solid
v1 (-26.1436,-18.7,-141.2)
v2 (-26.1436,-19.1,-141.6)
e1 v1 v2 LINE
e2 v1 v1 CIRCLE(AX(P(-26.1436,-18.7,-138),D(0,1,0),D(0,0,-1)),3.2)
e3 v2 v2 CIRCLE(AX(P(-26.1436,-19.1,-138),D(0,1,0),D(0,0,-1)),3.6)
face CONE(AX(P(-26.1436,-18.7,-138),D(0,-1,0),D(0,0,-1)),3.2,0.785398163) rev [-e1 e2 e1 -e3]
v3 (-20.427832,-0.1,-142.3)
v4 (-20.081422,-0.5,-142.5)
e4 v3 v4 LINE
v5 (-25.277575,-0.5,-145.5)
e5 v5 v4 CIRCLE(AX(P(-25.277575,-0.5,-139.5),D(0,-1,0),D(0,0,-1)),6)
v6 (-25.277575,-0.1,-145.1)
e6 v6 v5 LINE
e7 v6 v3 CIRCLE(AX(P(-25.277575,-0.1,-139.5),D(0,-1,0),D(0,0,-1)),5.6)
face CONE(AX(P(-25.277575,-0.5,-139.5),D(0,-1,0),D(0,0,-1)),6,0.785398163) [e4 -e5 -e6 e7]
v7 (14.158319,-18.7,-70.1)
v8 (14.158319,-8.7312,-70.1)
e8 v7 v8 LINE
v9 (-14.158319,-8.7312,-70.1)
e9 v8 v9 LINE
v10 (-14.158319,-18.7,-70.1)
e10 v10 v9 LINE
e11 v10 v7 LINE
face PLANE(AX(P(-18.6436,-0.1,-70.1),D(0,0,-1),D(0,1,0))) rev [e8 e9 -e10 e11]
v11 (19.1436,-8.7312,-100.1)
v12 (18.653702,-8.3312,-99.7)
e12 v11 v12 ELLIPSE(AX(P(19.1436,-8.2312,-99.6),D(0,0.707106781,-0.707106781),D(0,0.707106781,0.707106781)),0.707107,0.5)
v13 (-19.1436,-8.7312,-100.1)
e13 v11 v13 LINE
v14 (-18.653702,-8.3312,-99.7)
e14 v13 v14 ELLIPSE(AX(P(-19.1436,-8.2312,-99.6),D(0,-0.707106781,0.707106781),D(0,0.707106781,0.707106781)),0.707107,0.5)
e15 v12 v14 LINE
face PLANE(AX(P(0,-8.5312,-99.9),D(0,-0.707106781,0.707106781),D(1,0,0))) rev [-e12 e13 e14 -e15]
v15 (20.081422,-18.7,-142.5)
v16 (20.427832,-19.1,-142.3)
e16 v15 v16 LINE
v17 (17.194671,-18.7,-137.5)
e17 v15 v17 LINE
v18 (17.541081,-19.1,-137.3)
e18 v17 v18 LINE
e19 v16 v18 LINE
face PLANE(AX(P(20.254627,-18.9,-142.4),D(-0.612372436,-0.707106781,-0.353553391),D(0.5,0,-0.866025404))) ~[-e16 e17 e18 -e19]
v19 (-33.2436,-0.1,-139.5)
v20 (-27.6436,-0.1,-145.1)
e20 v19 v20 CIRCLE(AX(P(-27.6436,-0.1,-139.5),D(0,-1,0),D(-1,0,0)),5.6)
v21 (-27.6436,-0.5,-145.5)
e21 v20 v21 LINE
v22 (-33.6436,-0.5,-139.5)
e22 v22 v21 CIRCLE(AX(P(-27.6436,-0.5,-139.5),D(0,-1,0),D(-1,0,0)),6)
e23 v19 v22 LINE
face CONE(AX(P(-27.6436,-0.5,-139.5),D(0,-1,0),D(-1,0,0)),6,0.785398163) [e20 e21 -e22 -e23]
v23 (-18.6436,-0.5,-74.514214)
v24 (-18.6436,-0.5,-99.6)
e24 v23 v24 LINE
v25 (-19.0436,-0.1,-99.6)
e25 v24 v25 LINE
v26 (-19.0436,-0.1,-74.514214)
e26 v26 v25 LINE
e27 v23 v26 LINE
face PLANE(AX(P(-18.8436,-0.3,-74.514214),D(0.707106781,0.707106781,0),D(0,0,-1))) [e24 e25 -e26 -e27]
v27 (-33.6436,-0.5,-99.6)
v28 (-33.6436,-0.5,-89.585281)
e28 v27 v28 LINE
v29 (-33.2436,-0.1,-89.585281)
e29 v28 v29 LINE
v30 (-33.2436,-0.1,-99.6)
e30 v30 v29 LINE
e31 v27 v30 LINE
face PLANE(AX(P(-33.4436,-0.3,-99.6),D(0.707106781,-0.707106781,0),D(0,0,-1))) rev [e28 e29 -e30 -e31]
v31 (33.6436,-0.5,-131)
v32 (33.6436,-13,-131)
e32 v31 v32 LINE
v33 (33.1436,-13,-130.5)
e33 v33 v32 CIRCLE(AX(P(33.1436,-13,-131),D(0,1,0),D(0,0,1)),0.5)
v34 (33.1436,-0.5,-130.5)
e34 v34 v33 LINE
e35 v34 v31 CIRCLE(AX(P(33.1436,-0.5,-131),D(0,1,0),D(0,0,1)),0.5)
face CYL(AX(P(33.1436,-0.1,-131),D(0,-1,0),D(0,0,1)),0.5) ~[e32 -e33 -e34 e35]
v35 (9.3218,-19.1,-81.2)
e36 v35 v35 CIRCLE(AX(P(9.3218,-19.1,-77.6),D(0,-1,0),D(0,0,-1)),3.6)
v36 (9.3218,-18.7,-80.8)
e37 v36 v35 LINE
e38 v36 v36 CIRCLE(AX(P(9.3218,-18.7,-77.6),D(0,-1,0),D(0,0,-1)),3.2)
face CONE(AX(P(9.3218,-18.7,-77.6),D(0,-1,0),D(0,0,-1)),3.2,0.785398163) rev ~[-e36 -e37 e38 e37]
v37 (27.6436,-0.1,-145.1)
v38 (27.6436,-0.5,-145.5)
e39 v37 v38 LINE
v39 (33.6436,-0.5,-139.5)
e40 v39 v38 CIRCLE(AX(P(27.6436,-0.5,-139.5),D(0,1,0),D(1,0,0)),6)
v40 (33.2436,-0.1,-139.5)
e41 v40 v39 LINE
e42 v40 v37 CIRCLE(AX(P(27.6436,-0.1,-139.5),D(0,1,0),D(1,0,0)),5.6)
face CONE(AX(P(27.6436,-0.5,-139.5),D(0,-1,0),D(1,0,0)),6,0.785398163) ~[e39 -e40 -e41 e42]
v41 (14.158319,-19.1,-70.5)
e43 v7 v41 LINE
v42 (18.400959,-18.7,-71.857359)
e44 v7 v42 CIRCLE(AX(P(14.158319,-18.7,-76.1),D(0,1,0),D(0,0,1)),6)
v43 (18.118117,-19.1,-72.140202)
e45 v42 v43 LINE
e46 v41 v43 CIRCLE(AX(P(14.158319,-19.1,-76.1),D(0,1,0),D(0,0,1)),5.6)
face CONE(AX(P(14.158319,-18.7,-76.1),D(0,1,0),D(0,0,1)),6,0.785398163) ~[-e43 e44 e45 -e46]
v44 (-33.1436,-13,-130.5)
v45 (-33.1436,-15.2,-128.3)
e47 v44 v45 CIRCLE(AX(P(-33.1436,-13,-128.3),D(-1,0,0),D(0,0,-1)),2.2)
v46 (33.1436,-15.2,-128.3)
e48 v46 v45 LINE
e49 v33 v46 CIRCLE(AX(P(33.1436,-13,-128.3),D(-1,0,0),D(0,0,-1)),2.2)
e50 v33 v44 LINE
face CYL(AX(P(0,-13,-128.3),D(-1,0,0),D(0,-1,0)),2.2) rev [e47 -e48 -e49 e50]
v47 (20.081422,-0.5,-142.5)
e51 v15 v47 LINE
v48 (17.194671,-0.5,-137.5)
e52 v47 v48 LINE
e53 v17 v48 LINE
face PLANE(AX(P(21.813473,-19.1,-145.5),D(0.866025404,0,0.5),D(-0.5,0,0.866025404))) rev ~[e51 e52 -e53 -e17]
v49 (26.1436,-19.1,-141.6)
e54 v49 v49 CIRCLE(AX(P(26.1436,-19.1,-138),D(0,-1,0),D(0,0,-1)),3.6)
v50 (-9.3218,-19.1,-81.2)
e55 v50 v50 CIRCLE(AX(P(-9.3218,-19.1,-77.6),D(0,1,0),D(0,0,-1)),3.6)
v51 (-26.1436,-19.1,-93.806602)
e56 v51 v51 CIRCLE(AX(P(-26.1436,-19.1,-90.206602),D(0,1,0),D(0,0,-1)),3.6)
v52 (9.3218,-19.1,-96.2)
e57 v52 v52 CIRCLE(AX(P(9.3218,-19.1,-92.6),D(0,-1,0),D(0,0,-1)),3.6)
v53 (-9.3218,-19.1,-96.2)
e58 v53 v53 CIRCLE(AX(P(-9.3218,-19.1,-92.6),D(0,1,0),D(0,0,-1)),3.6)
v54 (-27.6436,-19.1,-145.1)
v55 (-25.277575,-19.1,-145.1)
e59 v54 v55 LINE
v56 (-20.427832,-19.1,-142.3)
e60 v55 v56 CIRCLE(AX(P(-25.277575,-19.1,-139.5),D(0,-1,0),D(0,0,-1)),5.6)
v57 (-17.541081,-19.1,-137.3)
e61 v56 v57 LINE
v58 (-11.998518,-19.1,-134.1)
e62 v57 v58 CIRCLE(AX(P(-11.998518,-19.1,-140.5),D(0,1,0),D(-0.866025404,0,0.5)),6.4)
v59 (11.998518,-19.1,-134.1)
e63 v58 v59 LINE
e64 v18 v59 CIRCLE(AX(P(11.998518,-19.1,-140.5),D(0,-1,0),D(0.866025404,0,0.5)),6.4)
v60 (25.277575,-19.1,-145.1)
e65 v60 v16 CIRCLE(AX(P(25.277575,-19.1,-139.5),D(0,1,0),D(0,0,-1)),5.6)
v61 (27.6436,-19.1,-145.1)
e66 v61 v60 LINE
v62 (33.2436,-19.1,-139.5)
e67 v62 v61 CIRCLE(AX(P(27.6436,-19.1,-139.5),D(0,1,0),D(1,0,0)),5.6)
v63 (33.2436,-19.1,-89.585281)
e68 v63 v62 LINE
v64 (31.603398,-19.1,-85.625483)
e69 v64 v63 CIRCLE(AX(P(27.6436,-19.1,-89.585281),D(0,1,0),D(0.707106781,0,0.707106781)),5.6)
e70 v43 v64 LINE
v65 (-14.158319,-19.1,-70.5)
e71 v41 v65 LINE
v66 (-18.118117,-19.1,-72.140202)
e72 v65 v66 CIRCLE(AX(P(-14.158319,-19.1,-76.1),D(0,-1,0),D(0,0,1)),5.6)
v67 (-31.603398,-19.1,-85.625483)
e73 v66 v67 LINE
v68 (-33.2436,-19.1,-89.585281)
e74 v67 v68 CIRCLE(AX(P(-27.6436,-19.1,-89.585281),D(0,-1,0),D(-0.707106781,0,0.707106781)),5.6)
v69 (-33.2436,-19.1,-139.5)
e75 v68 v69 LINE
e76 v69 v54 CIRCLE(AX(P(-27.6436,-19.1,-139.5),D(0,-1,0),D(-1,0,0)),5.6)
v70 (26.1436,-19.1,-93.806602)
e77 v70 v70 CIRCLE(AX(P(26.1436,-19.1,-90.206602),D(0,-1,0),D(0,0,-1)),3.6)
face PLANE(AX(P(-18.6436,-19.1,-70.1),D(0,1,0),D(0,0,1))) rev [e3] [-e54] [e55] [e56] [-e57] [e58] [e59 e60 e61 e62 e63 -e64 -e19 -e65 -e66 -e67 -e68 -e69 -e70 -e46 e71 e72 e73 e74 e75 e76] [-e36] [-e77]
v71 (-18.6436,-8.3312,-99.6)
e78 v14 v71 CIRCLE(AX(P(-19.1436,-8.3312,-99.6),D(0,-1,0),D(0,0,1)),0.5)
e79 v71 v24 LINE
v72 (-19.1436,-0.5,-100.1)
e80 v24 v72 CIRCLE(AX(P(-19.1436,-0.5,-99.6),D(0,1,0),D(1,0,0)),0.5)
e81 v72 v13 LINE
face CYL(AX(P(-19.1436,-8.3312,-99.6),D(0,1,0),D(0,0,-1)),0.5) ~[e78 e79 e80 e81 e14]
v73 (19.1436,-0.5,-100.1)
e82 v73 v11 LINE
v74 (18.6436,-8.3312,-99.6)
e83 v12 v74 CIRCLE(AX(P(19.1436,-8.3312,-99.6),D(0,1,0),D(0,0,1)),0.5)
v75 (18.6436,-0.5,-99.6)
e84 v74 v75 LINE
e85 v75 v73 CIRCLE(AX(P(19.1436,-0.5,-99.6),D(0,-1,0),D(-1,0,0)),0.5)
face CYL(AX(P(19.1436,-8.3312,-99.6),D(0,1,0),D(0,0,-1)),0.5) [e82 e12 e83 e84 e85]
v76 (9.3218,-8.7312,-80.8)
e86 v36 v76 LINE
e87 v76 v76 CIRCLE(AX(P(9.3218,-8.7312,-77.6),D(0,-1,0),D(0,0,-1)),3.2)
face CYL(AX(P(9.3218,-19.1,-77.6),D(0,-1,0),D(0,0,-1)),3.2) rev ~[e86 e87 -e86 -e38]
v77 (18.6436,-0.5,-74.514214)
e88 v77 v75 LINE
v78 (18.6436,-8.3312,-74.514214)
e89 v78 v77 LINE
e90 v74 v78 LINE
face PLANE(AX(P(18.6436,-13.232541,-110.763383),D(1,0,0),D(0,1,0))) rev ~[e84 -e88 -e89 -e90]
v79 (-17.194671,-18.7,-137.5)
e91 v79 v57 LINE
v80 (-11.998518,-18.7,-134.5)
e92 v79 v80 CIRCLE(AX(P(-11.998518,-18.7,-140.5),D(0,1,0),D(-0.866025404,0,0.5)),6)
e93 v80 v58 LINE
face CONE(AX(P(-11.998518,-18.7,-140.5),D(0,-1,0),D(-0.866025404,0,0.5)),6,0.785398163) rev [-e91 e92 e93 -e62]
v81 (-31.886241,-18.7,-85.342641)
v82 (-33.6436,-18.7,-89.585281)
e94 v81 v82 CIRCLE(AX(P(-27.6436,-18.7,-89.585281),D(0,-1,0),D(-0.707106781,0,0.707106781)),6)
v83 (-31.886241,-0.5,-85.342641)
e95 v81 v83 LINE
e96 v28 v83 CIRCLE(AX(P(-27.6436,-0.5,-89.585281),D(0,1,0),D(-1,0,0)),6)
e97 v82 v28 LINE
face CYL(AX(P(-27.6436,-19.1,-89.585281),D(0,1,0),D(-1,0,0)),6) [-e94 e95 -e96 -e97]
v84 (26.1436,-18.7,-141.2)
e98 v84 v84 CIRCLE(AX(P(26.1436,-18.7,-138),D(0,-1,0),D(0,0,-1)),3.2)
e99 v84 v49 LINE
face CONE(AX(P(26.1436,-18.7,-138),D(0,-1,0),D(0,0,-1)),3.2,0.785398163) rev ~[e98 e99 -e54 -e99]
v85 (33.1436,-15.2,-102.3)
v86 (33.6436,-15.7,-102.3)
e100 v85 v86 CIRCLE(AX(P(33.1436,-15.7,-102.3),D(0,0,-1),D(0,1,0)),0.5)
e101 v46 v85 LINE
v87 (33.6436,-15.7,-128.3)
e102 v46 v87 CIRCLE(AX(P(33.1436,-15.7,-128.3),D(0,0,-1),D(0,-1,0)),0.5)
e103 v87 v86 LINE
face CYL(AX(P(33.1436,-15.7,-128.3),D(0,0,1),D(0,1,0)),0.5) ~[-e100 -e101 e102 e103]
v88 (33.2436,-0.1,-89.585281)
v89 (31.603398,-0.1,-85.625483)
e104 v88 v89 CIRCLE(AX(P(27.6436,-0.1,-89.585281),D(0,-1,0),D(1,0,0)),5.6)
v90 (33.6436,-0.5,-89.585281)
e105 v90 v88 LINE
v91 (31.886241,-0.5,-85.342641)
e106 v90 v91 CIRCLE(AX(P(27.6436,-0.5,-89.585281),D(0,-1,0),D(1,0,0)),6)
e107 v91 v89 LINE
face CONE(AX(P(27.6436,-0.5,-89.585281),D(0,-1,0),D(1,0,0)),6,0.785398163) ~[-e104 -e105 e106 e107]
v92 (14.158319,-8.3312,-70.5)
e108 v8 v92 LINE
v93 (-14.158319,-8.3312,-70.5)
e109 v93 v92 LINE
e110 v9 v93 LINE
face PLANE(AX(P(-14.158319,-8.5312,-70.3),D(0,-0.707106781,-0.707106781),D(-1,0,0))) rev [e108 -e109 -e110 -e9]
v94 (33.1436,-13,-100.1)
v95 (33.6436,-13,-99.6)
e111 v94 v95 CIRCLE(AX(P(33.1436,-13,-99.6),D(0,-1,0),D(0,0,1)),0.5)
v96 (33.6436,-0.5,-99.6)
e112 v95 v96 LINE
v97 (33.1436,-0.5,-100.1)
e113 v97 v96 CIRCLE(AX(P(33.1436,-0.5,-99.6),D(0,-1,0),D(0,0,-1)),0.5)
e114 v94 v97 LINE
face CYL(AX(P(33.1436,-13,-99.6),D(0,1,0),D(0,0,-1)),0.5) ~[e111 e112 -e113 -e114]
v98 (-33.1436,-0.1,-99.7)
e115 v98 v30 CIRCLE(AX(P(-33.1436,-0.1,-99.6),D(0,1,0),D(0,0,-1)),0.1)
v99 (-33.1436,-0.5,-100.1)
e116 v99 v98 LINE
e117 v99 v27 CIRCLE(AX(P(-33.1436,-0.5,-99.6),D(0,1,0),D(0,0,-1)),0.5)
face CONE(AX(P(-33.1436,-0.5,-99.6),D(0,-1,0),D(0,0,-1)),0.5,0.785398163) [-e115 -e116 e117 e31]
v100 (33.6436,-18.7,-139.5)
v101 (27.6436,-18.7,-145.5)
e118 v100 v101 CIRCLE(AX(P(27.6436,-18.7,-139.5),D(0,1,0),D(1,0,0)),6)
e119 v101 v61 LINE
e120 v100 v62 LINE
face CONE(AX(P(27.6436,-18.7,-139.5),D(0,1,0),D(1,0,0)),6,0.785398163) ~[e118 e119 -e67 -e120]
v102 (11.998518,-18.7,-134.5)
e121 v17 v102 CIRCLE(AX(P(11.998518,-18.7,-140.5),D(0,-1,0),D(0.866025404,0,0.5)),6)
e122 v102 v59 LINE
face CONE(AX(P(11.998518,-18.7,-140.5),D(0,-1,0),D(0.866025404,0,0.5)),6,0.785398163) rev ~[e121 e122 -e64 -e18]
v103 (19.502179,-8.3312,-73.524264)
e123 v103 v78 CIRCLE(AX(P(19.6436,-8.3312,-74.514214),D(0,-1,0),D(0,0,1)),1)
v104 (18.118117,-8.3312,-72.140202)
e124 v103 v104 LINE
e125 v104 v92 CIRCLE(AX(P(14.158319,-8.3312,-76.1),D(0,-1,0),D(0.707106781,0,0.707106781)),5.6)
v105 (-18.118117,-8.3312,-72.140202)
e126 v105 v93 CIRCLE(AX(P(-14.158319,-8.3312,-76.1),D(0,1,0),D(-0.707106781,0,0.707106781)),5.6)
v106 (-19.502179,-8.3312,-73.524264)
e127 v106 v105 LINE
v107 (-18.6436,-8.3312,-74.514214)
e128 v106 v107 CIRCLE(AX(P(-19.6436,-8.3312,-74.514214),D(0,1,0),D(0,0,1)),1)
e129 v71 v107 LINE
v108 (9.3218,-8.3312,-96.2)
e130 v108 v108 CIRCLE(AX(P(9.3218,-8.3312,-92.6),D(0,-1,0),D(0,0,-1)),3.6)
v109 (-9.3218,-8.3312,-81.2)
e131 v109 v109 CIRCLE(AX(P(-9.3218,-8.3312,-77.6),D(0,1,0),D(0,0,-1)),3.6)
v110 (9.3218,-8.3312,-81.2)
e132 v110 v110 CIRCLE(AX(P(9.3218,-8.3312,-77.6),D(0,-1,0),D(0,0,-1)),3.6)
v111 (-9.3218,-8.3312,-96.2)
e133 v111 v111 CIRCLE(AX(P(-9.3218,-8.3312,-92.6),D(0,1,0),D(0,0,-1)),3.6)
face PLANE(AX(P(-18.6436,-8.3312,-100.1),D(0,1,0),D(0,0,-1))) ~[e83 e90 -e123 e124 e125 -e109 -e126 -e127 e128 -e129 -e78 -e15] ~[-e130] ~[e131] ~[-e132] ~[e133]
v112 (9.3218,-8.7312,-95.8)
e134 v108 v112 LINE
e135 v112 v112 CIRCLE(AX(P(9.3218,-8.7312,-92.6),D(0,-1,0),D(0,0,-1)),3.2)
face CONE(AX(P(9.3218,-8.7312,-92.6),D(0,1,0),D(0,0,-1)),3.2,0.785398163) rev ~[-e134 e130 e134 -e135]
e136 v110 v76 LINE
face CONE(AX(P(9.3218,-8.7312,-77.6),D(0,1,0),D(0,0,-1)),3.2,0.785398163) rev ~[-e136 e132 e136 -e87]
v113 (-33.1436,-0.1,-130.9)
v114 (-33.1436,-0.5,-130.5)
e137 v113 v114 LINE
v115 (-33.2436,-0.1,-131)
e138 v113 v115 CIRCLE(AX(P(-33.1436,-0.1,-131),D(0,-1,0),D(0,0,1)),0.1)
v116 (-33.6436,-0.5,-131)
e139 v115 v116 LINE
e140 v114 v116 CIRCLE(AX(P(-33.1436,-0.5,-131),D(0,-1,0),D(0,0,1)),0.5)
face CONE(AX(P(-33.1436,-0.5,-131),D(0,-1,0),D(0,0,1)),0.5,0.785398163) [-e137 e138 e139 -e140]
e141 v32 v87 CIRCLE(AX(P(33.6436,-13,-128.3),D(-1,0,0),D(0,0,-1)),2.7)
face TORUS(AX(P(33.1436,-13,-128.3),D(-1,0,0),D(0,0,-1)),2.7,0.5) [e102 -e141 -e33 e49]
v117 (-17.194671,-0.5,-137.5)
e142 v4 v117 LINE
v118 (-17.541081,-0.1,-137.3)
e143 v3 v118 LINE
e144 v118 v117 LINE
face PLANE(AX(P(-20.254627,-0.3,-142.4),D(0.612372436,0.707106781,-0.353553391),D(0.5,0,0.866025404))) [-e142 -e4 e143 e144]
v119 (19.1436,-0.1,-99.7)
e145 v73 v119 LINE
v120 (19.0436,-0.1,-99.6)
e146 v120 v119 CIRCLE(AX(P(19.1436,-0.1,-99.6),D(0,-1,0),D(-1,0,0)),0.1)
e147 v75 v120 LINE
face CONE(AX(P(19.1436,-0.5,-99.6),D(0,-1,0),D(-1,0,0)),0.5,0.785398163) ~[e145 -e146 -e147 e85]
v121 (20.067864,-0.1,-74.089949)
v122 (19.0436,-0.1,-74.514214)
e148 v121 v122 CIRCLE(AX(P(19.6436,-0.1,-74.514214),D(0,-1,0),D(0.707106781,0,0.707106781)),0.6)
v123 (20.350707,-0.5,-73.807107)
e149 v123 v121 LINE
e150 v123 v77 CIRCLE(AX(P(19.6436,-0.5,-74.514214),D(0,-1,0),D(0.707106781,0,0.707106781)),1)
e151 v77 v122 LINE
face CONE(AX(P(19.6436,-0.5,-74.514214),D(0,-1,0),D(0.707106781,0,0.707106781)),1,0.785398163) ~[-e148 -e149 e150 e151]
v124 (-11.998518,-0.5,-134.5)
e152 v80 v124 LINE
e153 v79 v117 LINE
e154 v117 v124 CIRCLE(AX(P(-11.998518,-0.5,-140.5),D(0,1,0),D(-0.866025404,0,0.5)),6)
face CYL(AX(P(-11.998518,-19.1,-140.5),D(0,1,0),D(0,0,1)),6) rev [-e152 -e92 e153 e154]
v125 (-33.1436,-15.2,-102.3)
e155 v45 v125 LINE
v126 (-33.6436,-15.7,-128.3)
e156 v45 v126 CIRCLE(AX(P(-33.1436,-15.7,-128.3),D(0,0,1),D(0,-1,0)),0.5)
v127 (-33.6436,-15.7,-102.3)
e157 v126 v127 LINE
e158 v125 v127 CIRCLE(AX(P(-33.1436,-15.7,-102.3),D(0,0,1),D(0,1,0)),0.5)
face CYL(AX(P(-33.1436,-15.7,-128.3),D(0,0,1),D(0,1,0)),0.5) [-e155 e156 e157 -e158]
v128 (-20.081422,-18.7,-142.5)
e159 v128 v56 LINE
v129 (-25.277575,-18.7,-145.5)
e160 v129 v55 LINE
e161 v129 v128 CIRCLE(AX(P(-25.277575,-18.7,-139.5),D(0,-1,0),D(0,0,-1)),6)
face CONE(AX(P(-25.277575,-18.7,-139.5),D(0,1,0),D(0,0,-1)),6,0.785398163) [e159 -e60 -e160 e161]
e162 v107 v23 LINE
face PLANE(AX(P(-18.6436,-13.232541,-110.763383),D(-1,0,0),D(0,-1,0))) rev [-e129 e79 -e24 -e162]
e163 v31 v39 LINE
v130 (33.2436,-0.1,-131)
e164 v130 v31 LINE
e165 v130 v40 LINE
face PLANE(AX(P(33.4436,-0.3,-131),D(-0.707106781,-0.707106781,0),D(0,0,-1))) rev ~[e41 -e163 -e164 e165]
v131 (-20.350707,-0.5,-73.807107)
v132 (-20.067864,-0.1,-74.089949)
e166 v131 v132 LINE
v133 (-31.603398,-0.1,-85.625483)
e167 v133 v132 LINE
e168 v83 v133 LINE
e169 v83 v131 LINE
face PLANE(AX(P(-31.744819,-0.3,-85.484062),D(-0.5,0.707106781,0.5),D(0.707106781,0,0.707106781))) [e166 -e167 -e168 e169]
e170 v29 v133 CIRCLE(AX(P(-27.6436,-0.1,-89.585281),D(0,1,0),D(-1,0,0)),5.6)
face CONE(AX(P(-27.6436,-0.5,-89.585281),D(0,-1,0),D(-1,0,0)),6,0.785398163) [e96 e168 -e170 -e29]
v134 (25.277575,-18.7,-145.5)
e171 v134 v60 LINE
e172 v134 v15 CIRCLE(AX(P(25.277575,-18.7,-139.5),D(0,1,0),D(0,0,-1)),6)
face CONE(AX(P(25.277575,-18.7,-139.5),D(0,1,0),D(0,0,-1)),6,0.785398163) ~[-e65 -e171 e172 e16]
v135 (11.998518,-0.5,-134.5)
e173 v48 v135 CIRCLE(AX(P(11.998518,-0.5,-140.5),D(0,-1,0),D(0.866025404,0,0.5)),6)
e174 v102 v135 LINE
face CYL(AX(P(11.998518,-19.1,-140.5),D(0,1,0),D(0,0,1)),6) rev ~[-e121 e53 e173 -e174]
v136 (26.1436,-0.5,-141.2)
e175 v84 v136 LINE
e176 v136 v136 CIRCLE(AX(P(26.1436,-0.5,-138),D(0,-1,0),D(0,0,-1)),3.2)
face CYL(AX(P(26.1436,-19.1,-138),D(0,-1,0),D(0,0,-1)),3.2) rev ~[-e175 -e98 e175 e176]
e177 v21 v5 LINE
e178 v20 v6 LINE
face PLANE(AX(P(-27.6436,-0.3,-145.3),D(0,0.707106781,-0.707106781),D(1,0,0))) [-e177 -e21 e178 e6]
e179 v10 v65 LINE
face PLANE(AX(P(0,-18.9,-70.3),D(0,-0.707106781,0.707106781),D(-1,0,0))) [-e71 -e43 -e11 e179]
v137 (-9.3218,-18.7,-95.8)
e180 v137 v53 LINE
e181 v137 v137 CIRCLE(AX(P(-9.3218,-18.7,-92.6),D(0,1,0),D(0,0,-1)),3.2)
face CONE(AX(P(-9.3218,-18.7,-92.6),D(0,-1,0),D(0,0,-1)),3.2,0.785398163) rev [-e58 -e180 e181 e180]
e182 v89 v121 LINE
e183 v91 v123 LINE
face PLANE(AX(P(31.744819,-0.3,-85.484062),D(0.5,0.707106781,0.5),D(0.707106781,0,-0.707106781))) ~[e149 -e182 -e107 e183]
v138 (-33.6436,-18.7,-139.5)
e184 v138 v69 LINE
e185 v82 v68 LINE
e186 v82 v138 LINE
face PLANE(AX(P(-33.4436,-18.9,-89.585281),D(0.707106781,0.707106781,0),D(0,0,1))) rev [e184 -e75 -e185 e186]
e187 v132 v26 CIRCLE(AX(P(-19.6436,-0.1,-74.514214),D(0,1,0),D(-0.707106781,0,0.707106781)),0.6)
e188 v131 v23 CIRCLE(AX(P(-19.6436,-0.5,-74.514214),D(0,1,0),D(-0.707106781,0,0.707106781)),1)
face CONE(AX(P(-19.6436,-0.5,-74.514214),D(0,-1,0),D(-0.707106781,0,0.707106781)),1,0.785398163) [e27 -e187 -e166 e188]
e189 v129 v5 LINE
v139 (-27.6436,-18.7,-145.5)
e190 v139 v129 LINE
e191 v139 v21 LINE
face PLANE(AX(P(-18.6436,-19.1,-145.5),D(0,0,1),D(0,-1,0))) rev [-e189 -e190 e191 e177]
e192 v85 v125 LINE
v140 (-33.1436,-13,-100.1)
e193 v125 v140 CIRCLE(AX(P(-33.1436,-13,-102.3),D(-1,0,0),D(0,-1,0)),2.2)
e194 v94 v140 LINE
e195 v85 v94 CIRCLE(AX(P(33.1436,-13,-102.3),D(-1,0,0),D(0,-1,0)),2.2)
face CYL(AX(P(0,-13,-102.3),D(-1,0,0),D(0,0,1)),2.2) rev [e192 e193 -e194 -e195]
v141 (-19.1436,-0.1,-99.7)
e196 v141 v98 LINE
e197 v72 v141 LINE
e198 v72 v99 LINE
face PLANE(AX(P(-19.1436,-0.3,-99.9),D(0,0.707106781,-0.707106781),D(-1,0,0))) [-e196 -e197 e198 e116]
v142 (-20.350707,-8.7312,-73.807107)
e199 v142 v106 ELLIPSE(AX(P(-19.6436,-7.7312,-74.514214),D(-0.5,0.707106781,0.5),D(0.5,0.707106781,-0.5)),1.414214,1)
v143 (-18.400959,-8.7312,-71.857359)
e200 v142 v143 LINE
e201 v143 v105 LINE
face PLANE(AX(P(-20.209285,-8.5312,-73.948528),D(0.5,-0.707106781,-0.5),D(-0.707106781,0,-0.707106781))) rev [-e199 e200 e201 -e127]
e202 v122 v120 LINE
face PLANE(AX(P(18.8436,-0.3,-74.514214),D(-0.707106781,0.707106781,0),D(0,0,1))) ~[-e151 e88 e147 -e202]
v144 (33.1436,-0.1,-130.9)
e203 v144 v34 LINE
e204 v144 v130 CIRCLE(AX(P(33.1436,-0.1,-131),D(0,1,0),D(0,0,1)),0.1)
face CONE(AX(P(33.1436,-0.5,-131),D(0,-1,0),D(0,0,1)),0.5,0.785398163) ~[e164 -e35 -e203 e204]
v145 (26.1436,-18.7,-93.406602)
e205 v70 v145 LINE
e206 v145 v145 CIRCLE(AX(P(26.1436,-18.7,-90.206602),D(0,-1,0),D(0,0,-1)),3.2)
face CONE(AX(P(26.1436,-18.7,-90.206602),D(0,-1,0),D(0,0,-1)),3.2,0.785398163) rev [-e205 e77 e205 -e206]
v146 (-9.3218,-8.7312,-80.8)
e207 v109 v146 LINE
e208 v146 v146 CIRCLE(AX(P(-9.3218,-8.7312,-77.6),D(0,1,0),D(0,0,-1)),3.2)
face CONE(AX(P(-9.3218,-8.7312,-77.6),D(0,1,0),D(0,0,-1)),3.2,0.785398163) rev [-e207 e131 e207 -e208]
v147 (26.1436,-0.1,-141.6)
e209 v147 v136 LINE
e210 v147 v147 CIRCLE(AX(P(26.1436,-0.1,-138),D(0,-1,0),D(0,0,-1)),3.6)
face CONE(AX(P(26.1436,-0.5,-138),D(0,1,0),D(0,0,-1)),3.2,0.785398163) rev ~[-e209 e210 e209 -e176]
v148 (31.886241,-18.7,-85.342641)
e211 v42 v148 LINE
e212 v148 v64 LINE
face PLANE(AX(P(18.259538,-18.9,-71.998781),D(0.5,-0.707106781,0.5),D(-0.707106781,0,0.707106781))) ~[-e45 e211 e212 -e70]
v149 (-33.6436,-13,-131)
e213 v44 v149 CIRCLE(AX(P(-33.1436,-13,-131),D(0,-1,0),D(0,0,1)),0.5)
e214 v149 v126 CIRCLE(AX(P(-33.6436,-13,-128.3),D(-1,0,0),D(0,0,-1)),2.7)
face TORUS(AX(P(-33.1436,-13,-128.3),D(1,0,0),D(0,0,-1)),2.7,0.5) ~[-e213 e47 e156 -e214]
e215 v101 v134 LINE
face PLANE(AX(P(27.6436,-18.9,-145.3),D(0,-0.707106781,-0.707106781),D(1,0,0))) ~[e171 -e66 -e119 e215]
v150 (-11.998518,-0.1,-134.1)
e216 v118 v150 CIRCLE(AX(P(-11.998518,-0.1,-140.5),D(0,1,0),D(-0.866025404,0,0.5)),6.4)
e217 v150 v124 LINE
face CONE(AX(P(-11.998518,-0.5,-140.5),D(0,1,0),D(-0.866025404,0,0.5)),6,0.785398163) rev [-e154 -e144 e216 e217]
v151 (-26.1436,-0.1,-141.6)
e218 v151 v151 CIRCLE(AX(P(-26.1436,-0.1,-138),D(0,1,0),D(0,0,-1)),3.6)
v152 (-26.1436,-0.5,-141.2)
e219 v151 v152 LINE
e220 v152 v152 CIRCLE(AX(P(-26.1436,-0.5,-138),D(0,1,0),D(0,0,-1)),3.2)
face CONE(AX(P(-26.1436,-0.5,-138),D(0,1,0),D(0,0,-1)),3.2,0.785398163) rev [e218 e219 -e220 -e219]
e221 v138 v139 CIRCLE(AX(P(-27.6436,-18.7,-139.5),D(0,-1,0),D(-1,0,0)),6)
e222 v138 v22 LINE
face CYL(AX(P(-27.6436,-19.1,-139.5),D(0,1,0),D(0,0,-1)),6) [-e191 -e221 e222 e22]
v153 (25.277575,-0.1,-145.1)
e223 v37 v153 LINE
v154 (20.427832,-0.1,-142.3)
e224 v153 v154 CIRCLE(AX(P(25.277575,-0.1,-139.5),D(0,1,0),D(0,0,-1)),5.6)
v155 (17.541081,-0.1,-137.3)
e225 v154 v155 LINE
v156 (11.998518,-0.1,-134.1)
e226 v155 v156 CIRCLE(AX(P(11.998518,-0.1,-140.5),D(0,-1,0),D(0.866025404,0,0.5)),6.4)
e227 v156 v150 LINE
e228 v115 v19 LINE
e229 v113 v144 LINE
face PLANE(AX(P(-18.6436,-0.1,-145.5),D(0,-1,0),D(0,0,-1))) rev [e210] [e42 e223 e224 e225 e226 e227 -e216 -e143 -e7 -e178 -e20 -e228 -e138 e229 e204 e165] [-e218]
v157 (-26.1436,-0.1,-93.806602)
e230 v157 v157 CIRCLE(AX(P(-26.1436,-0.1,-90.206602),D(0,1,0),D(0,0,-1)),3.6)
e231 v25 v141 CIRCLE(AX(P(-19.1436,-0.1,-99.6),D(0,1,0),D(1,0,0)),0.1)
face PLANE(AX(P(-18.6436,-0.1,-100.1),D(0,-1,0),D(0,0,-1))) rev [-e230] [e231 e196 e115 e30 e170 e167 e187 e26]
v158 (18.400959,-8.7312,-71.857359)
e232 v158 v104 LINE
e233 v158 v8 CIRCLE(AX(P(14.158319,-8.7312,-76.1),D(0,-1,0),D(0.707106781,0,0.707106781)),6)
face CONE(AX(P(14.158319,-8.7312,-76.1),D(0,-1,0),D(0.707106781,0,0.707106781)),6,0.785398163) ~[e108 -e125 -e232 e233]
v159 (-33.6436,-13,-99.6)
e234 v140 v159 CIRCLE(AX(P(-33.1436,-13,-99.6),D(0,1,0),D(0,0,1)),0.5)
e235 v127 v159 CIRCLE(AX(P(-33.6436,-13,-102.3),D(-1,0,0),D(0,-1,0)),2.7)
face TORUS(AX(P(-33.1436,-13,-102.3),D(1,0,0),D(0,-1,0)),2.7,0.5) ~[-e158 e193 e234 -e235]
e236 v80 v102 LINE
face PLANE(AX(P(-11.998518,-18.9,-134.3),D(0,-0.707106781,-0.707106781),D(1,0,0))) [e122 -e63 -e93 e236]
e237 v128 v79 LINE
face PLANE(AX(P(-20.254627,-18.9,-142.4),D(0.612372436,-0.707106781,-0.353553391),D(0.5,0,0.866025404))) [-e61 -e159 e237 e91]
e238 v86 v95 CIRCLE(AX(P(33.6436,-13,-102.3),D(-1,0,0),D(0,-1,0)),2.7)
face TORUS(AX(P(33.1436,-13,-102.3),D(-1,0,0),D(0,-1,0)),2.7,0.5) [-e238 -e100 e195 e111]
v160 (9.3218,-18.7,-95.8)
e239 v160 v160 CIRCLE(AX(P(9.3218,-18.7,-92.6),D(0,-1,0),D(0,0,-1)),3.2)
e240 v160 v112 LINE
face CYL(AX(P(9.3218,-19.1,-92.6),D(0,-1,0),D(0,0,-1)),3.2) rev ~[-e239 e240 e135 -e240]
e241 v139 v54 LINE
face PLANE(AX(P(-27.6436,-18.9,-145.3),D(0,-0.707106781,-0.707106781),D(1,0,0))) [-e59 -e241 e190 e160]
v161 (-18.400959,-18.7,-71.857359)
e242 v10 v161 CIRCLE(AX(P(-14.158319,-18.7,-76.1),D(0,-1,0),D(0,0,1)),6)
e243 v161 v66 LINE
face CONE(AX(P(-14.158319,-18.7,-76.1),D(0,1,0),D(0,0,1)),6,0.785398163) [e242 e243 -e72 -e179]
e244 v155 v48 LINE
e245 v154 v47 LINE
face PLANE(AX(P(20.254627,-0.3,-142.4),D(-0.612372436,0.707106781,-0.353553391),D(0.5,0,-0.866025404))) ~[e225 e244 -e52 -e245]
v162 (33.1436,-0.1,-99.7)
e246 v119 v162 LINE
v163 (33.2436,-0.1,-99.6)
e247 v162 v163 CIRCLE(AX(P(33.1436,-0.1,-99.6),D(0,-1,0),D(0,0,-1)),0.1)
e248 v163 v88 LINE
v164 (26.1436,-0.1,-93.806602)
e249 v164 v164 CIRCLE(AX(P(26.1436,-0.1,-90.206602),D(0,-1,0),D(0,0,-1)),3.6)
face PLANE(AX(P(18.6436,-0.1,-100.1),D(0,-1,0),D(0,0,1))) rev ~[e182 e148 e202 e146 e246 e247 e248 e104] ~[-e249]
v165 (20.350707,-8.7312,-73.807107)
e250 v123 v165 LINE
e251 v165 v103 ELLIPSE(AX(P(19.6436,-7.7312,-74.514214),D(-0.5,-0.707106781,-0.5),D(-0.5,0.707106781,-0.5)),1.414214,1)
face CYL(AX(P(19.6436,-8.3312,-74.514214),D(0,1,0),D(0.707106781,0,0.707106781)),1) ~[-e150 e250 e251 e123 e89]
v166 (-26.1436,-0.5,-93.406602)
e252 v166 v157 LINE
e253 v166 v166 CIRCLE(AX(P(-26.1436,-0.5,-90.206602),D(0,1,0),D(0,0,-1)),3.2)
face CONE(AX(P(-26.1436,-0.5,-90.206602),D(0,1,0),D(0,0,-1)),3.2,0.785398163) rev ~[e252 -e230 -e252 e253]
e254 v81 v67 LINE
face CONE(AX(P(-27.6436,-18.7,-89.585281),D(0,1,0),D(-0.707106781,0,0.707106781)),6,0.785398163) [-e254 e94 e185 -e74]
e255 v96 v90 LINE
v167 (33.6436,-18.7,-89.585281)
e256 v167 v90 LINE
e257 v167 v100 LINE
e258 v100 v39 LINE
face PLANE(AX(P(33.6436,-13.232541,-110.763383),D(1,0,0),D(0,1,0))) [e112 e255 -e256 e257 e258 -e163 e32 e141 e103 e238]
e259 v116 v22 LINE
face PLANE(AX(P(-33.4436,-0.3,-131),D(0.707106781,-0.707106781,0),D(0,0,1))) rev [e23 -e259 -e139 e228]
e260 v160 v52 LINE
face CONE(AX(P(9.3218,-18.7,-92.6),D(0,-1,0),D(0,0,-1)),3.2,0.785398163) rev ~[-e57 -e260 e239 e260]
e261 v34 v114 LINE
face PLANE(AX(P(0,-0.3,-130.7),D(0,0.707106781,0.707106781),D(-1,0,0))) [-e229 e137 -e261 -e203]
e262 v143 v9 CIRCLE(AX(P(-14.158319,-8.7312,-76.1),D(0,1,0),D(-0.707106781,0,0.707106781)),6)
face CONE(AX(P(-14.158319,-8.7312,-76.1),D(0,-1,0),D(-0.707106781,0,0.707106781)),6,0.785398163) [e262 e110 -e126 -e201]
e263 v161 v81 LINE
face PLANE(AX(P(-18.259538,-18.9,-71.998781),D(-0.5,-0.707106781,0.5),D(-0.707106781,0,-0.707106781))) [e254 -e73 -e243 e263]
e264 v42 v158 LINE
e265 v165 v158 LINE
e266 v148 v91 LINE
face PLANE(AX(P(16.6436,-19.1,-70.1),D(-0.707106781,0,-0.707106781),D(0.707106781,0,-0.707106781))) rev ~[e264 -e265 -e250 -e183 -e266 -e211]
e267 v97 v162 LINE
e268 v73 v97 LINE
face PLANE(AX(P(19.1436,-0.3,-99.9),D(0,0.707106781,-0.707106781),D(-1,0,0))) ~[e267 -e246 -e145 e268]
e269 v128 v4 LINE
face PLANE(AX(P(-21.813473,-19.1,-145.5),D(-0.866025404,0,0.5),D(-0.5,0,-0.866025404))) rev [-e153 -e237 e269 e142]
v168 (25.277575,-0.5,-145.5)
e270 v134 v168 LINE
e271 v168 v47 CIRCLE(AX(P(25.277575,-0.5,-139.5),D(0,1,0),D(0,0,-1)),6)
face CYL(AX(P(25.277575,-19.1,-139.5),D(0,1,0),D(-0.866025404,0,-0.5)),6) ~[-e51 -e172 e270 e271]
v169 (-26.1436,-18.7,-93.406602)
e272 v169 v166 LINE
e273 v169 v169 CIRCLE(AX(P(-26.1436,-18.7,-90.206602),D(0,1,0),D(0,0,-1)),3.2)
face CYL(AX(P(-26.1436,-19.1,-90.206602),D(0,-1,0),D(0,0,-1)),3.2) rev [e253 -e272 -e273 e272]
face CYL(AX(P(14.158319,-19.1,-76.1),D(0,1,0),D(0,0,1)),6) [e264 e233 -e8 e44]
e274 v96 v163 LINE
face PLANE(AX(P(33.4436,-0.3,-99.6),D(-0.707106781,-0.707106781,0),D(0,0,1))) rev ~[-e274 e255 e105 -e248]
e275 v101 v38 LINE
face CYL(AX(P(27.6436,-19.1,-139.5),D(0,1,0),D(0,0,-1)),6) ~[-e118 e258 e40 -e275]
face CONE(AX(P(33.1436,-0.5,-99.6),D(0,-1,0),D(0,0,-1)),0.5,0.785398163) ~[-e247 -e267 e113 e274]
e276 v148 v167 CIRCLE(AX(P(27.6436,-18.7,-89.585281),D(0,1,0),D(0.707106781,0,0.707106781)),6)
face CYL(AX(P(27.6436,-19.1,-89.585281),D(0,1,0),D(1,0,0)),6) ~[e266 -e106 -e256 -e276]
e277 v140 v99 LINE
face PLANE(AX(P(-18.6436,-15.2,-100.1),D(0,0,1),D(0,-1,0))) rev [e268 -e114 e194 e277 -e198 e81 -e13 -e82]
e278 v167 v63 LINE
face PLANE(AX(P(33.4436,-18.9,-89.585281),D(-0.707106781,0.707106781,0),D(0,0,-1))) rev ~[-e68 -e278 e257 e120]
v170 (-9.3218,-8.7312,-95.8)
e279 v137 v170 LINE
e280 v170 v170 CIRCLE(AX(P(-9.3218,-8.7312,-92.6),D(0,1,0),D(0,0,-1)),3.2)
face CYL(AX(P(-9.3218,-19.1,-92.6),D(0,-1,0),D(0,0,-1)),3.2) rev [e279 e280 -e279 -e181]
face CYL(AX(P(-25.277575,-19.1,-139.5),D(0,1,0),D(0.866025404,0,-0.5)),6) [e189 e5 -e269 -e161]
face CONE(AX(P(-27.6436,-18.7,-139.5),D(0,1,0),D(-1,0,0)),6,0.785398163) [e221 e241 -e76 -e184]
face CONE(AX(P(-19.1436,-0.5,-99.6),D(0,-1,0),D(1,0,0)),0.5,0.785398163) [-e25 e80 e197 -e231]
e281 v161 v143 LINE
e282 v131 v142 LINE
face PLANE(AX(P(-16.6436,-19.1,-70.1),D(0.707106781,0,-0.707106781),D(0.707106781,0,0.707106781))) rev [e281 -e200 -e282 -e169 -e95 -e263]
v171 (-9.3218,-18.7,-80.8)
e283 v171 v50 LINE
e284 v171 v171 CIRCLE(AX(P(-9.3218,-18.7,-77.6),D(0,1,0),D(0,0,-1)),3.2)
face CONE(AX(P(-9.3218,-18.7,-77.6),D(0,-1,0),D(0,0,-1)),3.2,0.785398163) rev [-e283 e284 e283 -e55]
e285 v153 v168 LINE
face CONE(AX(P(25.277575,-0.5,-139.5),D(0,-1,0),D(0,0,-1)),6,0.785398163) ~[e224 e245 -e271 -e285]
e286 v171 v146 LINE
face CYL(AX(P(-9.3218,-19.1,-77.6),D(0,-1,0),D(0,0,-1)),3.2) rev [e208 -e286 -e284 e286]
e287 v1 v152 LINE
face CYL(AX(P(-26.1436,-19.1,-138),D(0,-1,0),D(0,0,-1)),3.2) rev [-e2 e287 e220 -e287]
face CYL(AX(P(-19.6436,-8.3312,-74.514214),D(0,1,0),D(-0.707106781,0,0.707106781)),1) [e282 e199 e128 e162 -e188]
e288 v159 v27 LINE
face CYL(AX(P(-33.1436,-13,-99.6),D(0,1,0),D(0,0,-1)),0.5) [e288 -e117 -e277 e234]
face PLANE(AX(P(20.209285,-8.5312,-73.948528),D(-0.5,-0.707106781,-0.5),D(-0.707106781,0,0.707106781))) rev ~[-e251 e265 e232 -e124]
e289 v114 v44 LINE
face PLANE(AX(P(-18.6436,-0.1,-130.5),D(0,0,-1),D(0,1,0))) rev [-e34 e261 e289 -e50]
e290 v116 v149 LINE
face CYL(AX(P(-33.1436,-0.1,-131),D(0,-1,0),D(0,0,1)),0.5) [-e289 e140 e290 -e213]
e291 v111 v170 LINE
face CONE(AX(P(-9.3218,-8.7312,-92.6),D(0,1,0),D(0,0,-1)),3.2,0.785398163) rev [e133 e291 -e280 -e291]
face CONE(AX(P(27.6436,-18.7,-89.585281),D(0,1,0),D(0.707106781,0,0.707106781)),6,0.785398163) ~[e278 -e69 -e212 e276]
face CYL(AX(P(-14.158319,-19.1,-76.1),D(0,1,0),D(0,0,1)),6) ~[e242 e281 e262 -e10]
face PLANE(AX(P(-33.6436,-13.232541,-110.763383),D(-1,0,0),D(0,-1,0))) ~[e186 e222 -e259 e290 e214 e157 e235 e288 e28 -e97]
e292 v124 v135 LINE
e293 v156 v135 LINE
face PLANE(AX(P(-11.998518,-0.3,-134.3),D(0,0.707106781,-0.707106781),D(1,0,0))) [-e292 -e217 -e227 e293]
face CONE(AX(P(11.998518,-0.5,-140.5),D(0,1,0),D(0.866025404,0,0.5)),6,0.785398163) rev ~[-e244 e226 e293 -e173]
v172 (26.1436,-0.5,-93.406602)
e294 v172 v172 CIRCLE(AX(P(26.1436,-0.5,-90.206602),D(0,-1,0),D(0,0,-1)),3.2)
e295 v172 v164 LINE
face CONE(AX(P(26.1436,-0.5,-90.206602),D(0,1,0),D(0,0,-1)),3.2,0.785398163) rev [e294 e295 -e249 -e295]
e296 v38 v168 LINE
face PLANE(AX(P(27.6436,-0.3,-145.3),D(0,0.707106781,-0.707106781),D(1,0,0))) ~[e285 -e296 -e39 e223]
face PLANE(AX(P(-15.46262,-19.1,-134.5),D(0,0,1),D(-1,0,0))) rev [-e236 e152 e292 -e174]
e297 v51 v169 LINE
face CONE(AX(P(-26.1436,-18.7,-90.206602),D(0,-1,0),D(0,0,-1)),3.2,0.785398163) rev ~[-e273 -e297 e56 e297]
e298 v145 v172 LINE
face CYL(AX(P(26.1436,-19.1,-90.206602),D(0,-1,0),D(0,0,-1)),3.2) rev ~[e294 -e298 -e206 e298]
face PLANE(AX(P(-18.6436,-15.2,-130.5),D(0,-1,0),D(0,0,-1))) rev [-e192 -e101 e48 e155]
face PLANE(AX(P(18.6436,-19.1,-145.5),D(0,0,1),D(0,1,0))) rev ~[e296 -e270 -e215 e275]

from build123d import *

# Parameters (mm, degrees)
SKETCH1_W           = 16.6624
SKETCH1_H           = 37.2872
BOSS_EXTRUDE1_DEPTH = 100
BOSS_EXTRUDE2_DEPTH = 18.6436
SKETCH2_3_W         = 8.2312
SKETCH2_3_H         = 29.9
SKETCH2_3_H_2       = 0.1
BOSS_EXTRUDE3_DEPTH = 15
SKETCH3_R           = 3.2
CUT_EXTRUDE1_DEPTH  = 151.542823877
FILLET1_R           = 6
FILLET3_R           = 2.2
FILLET2_R           = 0.5
FILLET4_R           = 1
CHAMFER1_SIZE       = 0.4


with BuildPart() as part:
    # Sketch1 → Boss-Extrude1 (new, symmetric)
    with BuildSketch(Plane(origin=(0, 0, 0), x_dir=(0, 1, 0), z_dir=(0, 0, 1))):
        Rectangle(SKETCH1_W, SKETCH1_H)
    extrude(amount=BOSS_EXTRUDE1_DEPTH, both=True)


with BuildPart() as body_2:
    # Sketch2 → Boss-Extrude2 (new body)
    with BuildSketch(Plane.YZ.offset(18.6436)):
        Polygon((-8.3312, -100), (-8.3312, -70.1), (-19.1, -70.1), (-19.1, -145.5), (-0.1, -145.5), (-0.1, -130.5), (-15.2, -130.5), (-15.2, -100.1), (-8.3312, -100.1), align=None)
    extrude(amount=-BOSS_EXTRUDE2_DEPTH)

    # Sketch2<3> → Boss-Extrude3 (add)
    with BuildSketch(Plane.YZ.offset(18.6436)):
        Polygon((-8.3312, -100), (-8.3312, -70.1), (-19.1, -70.1), (-19.1, -145.5), (-0.1, -145.5), (-0.1, -130.5), (-15.2, -130.5), (-15.2, -100.1), (-8.3312, -100.1), align=None)
        with Locations((-4.2156, -85.05)):
            Rectangle(SKETCH2_3_W, SKETCH2_3_H)
        with Locations((-4.2156, -100.05)):
            Rectangle(SKETCH2_3_W, SKETCH2_3_H_2)
    extrude(amount=BOSS_EXTRUDE3_DEPTH)

    # Sketch3 → Cut-Extrude1 (cut, through all)
    with BuildSketch(Plane.XZ.offset(19.1)):
        Polygon((15.46262002, -134.5), (0, -134.5), (0, -145.5), (21.813472981, -145.5), align=None)
        with Locations(Location((26.1436, -138, 0), (0, 0, 270))):
            Circle(SKETCH3_R)
        with Locations(Location((26.1436, -90.206601718, 0), (0, 0, 270))):
            Circle(SKETCH3_R)
        Polygon((33.6436, -70.1), (18.6436, -70.1), (18.6436, -72.1), (33.6436, -87.1), align=None)
        Polygon((18.6436, -70.1), (16.6436, -70.1), (18.6436, -72.1), align=None)
        with Locations(Location((9.3218, -77.6, 0), (0, 0, 270))):
            Circle(SKETCH3_R)
        with Locations(Location((9.3218, -92.6, 0), (0, 0, 270))):
            Circle(SKETCH3_R)
    extrude(amount=-CUT_EXTRUDE1_DEPTH, mode=Mode.SUBTRACT)

    # Fillet1
    fillet1_edges = [body_2.edges().sort_by_distance(p)[0] for p in [
        (15.46262002, -9.6, -134.5),
        (21.813472981, -9.6, -145.5),
        (33.6436, -9.6, -145.5),
        (16.6436, -13.7156, -70.1),
        (33.6436, -9.6, -87.1),
    ]]
    fillet(fillet1_edges, radius=FILLET1_R)

    # Fillet3
    fillet3_edges = [body_2.edges().sort_by_distance(p)[0] for p in [
        (16.8218, -15.2, -130.5),
        (16.8218, -15.2, -100.1),
    ]]
    fillet(fillet3_edges, radius=FILLET3_R)

    # Fillet2
    fillet2_edges = [body_2.edges().sort_by_distance(p)[0] for p in [
        (33.6436, -6.55, -130.5),
        (33.6436, -15.2, -115.3),
        (33.6436, -14.555634919, -129.855634919),
        (33.6436, -14.555634919, -100.744365081),
        (33.6436, -6.55, -100.1),
        (18.6436, -4.2156, -100.1),
    ]]
    fillet(fillet2_edges, radius=FILLET2_R)

    # Fillet4
    fillet4_edges = [body_2.edges().sort_by_distance(p)[0] for p in [
        (18.6436, -4.2156, -72.1),
    ]]
    fillet(fillet4_edges, radius=FILLET4_R)

    # Chamfer1
    chamfer1_edges = [body_2.edges().sort_by_distance(p)[0] for p in [
        (26.1436, -0.1, -87.006601718),
        (26.1436, -19.1, -87.006601718),
        (26.1436, -0.1, -134.8),
        (26.1436, -19.1, -134.8),
        (9.3218, -8.3312, -89.4),
        (9.3218, -19.1, -89.4),
        (5.999259202, -19.1, -134.5),
        (5.999259202, -0.1, -134.5),
        (26.460587298, -0.1, -145.5),
        (26.460587298, -19.1, -145.5),
        (33.6436, -19.1, -114.542640687),
        (25.1436, -19.1, -78.6),
        (18.638046501, -19.1, -140),
        (16.45441922, -19.1, -70.556722805),
        (33.186877195, -19.1, -87.28918078),
        (22.277574596, -19.1, -144.696152423),
        (31.886240687, -19.1, -143.742640687),
        (18.638046501, -0.1, -140),
        (22.277574596, -0.1, -144.696152423),
        (31.886240687, -0.1, -143.742640687),
        (19.375833047, -8.3312, -72.832233047),
        (33.186877195, -0.1, -87.28918078),
        (16.45441922, -8.3312, -70.556722805),
        (14.998518405, -19.1, -135.303847577),
        (14.998518405, -0.1, -135.303847577),
        (33.6436, -0.1, -135.25),
        (33.6436, -0.1, -94.592640687),
        (33.497153391, -0.1, -130.646446609),
        (18.6436, -0.1, -87.057106781),
        (26.1436, -0.1, -100.1),
        (33.497153391, -0.1, -99.953553391),
        (18.790046609, -0.1, -99.953553391),
        (26.118473734, -0.1, -79.574873734),
        (19.260916568, -0.1, -73.59033403),
        (7.079159313, -19.1, -70.1),
        (16.5718, -0.1, -130.5),
        (9.5718, -8.3312, -100.1),
        (7.079159313, -8.3312, -70.1),
        (9.3218, -8.3312, -74.4),
        (9.3218, -19.1, -74.4),
    ]]
    chamfer(chamfer1_edges, length=CHAMFER1_SIZE)

    # Mirror1: body 2 across plane


with BuildPart() as body_2_1:
    add(body_2.part)
    add(body_2.part.mirror(Plane(origin=(0, 0, 0), x_dir=(0, 0, 1), z_dir=(1, 0, 0))))


solid = body_2_1.part
